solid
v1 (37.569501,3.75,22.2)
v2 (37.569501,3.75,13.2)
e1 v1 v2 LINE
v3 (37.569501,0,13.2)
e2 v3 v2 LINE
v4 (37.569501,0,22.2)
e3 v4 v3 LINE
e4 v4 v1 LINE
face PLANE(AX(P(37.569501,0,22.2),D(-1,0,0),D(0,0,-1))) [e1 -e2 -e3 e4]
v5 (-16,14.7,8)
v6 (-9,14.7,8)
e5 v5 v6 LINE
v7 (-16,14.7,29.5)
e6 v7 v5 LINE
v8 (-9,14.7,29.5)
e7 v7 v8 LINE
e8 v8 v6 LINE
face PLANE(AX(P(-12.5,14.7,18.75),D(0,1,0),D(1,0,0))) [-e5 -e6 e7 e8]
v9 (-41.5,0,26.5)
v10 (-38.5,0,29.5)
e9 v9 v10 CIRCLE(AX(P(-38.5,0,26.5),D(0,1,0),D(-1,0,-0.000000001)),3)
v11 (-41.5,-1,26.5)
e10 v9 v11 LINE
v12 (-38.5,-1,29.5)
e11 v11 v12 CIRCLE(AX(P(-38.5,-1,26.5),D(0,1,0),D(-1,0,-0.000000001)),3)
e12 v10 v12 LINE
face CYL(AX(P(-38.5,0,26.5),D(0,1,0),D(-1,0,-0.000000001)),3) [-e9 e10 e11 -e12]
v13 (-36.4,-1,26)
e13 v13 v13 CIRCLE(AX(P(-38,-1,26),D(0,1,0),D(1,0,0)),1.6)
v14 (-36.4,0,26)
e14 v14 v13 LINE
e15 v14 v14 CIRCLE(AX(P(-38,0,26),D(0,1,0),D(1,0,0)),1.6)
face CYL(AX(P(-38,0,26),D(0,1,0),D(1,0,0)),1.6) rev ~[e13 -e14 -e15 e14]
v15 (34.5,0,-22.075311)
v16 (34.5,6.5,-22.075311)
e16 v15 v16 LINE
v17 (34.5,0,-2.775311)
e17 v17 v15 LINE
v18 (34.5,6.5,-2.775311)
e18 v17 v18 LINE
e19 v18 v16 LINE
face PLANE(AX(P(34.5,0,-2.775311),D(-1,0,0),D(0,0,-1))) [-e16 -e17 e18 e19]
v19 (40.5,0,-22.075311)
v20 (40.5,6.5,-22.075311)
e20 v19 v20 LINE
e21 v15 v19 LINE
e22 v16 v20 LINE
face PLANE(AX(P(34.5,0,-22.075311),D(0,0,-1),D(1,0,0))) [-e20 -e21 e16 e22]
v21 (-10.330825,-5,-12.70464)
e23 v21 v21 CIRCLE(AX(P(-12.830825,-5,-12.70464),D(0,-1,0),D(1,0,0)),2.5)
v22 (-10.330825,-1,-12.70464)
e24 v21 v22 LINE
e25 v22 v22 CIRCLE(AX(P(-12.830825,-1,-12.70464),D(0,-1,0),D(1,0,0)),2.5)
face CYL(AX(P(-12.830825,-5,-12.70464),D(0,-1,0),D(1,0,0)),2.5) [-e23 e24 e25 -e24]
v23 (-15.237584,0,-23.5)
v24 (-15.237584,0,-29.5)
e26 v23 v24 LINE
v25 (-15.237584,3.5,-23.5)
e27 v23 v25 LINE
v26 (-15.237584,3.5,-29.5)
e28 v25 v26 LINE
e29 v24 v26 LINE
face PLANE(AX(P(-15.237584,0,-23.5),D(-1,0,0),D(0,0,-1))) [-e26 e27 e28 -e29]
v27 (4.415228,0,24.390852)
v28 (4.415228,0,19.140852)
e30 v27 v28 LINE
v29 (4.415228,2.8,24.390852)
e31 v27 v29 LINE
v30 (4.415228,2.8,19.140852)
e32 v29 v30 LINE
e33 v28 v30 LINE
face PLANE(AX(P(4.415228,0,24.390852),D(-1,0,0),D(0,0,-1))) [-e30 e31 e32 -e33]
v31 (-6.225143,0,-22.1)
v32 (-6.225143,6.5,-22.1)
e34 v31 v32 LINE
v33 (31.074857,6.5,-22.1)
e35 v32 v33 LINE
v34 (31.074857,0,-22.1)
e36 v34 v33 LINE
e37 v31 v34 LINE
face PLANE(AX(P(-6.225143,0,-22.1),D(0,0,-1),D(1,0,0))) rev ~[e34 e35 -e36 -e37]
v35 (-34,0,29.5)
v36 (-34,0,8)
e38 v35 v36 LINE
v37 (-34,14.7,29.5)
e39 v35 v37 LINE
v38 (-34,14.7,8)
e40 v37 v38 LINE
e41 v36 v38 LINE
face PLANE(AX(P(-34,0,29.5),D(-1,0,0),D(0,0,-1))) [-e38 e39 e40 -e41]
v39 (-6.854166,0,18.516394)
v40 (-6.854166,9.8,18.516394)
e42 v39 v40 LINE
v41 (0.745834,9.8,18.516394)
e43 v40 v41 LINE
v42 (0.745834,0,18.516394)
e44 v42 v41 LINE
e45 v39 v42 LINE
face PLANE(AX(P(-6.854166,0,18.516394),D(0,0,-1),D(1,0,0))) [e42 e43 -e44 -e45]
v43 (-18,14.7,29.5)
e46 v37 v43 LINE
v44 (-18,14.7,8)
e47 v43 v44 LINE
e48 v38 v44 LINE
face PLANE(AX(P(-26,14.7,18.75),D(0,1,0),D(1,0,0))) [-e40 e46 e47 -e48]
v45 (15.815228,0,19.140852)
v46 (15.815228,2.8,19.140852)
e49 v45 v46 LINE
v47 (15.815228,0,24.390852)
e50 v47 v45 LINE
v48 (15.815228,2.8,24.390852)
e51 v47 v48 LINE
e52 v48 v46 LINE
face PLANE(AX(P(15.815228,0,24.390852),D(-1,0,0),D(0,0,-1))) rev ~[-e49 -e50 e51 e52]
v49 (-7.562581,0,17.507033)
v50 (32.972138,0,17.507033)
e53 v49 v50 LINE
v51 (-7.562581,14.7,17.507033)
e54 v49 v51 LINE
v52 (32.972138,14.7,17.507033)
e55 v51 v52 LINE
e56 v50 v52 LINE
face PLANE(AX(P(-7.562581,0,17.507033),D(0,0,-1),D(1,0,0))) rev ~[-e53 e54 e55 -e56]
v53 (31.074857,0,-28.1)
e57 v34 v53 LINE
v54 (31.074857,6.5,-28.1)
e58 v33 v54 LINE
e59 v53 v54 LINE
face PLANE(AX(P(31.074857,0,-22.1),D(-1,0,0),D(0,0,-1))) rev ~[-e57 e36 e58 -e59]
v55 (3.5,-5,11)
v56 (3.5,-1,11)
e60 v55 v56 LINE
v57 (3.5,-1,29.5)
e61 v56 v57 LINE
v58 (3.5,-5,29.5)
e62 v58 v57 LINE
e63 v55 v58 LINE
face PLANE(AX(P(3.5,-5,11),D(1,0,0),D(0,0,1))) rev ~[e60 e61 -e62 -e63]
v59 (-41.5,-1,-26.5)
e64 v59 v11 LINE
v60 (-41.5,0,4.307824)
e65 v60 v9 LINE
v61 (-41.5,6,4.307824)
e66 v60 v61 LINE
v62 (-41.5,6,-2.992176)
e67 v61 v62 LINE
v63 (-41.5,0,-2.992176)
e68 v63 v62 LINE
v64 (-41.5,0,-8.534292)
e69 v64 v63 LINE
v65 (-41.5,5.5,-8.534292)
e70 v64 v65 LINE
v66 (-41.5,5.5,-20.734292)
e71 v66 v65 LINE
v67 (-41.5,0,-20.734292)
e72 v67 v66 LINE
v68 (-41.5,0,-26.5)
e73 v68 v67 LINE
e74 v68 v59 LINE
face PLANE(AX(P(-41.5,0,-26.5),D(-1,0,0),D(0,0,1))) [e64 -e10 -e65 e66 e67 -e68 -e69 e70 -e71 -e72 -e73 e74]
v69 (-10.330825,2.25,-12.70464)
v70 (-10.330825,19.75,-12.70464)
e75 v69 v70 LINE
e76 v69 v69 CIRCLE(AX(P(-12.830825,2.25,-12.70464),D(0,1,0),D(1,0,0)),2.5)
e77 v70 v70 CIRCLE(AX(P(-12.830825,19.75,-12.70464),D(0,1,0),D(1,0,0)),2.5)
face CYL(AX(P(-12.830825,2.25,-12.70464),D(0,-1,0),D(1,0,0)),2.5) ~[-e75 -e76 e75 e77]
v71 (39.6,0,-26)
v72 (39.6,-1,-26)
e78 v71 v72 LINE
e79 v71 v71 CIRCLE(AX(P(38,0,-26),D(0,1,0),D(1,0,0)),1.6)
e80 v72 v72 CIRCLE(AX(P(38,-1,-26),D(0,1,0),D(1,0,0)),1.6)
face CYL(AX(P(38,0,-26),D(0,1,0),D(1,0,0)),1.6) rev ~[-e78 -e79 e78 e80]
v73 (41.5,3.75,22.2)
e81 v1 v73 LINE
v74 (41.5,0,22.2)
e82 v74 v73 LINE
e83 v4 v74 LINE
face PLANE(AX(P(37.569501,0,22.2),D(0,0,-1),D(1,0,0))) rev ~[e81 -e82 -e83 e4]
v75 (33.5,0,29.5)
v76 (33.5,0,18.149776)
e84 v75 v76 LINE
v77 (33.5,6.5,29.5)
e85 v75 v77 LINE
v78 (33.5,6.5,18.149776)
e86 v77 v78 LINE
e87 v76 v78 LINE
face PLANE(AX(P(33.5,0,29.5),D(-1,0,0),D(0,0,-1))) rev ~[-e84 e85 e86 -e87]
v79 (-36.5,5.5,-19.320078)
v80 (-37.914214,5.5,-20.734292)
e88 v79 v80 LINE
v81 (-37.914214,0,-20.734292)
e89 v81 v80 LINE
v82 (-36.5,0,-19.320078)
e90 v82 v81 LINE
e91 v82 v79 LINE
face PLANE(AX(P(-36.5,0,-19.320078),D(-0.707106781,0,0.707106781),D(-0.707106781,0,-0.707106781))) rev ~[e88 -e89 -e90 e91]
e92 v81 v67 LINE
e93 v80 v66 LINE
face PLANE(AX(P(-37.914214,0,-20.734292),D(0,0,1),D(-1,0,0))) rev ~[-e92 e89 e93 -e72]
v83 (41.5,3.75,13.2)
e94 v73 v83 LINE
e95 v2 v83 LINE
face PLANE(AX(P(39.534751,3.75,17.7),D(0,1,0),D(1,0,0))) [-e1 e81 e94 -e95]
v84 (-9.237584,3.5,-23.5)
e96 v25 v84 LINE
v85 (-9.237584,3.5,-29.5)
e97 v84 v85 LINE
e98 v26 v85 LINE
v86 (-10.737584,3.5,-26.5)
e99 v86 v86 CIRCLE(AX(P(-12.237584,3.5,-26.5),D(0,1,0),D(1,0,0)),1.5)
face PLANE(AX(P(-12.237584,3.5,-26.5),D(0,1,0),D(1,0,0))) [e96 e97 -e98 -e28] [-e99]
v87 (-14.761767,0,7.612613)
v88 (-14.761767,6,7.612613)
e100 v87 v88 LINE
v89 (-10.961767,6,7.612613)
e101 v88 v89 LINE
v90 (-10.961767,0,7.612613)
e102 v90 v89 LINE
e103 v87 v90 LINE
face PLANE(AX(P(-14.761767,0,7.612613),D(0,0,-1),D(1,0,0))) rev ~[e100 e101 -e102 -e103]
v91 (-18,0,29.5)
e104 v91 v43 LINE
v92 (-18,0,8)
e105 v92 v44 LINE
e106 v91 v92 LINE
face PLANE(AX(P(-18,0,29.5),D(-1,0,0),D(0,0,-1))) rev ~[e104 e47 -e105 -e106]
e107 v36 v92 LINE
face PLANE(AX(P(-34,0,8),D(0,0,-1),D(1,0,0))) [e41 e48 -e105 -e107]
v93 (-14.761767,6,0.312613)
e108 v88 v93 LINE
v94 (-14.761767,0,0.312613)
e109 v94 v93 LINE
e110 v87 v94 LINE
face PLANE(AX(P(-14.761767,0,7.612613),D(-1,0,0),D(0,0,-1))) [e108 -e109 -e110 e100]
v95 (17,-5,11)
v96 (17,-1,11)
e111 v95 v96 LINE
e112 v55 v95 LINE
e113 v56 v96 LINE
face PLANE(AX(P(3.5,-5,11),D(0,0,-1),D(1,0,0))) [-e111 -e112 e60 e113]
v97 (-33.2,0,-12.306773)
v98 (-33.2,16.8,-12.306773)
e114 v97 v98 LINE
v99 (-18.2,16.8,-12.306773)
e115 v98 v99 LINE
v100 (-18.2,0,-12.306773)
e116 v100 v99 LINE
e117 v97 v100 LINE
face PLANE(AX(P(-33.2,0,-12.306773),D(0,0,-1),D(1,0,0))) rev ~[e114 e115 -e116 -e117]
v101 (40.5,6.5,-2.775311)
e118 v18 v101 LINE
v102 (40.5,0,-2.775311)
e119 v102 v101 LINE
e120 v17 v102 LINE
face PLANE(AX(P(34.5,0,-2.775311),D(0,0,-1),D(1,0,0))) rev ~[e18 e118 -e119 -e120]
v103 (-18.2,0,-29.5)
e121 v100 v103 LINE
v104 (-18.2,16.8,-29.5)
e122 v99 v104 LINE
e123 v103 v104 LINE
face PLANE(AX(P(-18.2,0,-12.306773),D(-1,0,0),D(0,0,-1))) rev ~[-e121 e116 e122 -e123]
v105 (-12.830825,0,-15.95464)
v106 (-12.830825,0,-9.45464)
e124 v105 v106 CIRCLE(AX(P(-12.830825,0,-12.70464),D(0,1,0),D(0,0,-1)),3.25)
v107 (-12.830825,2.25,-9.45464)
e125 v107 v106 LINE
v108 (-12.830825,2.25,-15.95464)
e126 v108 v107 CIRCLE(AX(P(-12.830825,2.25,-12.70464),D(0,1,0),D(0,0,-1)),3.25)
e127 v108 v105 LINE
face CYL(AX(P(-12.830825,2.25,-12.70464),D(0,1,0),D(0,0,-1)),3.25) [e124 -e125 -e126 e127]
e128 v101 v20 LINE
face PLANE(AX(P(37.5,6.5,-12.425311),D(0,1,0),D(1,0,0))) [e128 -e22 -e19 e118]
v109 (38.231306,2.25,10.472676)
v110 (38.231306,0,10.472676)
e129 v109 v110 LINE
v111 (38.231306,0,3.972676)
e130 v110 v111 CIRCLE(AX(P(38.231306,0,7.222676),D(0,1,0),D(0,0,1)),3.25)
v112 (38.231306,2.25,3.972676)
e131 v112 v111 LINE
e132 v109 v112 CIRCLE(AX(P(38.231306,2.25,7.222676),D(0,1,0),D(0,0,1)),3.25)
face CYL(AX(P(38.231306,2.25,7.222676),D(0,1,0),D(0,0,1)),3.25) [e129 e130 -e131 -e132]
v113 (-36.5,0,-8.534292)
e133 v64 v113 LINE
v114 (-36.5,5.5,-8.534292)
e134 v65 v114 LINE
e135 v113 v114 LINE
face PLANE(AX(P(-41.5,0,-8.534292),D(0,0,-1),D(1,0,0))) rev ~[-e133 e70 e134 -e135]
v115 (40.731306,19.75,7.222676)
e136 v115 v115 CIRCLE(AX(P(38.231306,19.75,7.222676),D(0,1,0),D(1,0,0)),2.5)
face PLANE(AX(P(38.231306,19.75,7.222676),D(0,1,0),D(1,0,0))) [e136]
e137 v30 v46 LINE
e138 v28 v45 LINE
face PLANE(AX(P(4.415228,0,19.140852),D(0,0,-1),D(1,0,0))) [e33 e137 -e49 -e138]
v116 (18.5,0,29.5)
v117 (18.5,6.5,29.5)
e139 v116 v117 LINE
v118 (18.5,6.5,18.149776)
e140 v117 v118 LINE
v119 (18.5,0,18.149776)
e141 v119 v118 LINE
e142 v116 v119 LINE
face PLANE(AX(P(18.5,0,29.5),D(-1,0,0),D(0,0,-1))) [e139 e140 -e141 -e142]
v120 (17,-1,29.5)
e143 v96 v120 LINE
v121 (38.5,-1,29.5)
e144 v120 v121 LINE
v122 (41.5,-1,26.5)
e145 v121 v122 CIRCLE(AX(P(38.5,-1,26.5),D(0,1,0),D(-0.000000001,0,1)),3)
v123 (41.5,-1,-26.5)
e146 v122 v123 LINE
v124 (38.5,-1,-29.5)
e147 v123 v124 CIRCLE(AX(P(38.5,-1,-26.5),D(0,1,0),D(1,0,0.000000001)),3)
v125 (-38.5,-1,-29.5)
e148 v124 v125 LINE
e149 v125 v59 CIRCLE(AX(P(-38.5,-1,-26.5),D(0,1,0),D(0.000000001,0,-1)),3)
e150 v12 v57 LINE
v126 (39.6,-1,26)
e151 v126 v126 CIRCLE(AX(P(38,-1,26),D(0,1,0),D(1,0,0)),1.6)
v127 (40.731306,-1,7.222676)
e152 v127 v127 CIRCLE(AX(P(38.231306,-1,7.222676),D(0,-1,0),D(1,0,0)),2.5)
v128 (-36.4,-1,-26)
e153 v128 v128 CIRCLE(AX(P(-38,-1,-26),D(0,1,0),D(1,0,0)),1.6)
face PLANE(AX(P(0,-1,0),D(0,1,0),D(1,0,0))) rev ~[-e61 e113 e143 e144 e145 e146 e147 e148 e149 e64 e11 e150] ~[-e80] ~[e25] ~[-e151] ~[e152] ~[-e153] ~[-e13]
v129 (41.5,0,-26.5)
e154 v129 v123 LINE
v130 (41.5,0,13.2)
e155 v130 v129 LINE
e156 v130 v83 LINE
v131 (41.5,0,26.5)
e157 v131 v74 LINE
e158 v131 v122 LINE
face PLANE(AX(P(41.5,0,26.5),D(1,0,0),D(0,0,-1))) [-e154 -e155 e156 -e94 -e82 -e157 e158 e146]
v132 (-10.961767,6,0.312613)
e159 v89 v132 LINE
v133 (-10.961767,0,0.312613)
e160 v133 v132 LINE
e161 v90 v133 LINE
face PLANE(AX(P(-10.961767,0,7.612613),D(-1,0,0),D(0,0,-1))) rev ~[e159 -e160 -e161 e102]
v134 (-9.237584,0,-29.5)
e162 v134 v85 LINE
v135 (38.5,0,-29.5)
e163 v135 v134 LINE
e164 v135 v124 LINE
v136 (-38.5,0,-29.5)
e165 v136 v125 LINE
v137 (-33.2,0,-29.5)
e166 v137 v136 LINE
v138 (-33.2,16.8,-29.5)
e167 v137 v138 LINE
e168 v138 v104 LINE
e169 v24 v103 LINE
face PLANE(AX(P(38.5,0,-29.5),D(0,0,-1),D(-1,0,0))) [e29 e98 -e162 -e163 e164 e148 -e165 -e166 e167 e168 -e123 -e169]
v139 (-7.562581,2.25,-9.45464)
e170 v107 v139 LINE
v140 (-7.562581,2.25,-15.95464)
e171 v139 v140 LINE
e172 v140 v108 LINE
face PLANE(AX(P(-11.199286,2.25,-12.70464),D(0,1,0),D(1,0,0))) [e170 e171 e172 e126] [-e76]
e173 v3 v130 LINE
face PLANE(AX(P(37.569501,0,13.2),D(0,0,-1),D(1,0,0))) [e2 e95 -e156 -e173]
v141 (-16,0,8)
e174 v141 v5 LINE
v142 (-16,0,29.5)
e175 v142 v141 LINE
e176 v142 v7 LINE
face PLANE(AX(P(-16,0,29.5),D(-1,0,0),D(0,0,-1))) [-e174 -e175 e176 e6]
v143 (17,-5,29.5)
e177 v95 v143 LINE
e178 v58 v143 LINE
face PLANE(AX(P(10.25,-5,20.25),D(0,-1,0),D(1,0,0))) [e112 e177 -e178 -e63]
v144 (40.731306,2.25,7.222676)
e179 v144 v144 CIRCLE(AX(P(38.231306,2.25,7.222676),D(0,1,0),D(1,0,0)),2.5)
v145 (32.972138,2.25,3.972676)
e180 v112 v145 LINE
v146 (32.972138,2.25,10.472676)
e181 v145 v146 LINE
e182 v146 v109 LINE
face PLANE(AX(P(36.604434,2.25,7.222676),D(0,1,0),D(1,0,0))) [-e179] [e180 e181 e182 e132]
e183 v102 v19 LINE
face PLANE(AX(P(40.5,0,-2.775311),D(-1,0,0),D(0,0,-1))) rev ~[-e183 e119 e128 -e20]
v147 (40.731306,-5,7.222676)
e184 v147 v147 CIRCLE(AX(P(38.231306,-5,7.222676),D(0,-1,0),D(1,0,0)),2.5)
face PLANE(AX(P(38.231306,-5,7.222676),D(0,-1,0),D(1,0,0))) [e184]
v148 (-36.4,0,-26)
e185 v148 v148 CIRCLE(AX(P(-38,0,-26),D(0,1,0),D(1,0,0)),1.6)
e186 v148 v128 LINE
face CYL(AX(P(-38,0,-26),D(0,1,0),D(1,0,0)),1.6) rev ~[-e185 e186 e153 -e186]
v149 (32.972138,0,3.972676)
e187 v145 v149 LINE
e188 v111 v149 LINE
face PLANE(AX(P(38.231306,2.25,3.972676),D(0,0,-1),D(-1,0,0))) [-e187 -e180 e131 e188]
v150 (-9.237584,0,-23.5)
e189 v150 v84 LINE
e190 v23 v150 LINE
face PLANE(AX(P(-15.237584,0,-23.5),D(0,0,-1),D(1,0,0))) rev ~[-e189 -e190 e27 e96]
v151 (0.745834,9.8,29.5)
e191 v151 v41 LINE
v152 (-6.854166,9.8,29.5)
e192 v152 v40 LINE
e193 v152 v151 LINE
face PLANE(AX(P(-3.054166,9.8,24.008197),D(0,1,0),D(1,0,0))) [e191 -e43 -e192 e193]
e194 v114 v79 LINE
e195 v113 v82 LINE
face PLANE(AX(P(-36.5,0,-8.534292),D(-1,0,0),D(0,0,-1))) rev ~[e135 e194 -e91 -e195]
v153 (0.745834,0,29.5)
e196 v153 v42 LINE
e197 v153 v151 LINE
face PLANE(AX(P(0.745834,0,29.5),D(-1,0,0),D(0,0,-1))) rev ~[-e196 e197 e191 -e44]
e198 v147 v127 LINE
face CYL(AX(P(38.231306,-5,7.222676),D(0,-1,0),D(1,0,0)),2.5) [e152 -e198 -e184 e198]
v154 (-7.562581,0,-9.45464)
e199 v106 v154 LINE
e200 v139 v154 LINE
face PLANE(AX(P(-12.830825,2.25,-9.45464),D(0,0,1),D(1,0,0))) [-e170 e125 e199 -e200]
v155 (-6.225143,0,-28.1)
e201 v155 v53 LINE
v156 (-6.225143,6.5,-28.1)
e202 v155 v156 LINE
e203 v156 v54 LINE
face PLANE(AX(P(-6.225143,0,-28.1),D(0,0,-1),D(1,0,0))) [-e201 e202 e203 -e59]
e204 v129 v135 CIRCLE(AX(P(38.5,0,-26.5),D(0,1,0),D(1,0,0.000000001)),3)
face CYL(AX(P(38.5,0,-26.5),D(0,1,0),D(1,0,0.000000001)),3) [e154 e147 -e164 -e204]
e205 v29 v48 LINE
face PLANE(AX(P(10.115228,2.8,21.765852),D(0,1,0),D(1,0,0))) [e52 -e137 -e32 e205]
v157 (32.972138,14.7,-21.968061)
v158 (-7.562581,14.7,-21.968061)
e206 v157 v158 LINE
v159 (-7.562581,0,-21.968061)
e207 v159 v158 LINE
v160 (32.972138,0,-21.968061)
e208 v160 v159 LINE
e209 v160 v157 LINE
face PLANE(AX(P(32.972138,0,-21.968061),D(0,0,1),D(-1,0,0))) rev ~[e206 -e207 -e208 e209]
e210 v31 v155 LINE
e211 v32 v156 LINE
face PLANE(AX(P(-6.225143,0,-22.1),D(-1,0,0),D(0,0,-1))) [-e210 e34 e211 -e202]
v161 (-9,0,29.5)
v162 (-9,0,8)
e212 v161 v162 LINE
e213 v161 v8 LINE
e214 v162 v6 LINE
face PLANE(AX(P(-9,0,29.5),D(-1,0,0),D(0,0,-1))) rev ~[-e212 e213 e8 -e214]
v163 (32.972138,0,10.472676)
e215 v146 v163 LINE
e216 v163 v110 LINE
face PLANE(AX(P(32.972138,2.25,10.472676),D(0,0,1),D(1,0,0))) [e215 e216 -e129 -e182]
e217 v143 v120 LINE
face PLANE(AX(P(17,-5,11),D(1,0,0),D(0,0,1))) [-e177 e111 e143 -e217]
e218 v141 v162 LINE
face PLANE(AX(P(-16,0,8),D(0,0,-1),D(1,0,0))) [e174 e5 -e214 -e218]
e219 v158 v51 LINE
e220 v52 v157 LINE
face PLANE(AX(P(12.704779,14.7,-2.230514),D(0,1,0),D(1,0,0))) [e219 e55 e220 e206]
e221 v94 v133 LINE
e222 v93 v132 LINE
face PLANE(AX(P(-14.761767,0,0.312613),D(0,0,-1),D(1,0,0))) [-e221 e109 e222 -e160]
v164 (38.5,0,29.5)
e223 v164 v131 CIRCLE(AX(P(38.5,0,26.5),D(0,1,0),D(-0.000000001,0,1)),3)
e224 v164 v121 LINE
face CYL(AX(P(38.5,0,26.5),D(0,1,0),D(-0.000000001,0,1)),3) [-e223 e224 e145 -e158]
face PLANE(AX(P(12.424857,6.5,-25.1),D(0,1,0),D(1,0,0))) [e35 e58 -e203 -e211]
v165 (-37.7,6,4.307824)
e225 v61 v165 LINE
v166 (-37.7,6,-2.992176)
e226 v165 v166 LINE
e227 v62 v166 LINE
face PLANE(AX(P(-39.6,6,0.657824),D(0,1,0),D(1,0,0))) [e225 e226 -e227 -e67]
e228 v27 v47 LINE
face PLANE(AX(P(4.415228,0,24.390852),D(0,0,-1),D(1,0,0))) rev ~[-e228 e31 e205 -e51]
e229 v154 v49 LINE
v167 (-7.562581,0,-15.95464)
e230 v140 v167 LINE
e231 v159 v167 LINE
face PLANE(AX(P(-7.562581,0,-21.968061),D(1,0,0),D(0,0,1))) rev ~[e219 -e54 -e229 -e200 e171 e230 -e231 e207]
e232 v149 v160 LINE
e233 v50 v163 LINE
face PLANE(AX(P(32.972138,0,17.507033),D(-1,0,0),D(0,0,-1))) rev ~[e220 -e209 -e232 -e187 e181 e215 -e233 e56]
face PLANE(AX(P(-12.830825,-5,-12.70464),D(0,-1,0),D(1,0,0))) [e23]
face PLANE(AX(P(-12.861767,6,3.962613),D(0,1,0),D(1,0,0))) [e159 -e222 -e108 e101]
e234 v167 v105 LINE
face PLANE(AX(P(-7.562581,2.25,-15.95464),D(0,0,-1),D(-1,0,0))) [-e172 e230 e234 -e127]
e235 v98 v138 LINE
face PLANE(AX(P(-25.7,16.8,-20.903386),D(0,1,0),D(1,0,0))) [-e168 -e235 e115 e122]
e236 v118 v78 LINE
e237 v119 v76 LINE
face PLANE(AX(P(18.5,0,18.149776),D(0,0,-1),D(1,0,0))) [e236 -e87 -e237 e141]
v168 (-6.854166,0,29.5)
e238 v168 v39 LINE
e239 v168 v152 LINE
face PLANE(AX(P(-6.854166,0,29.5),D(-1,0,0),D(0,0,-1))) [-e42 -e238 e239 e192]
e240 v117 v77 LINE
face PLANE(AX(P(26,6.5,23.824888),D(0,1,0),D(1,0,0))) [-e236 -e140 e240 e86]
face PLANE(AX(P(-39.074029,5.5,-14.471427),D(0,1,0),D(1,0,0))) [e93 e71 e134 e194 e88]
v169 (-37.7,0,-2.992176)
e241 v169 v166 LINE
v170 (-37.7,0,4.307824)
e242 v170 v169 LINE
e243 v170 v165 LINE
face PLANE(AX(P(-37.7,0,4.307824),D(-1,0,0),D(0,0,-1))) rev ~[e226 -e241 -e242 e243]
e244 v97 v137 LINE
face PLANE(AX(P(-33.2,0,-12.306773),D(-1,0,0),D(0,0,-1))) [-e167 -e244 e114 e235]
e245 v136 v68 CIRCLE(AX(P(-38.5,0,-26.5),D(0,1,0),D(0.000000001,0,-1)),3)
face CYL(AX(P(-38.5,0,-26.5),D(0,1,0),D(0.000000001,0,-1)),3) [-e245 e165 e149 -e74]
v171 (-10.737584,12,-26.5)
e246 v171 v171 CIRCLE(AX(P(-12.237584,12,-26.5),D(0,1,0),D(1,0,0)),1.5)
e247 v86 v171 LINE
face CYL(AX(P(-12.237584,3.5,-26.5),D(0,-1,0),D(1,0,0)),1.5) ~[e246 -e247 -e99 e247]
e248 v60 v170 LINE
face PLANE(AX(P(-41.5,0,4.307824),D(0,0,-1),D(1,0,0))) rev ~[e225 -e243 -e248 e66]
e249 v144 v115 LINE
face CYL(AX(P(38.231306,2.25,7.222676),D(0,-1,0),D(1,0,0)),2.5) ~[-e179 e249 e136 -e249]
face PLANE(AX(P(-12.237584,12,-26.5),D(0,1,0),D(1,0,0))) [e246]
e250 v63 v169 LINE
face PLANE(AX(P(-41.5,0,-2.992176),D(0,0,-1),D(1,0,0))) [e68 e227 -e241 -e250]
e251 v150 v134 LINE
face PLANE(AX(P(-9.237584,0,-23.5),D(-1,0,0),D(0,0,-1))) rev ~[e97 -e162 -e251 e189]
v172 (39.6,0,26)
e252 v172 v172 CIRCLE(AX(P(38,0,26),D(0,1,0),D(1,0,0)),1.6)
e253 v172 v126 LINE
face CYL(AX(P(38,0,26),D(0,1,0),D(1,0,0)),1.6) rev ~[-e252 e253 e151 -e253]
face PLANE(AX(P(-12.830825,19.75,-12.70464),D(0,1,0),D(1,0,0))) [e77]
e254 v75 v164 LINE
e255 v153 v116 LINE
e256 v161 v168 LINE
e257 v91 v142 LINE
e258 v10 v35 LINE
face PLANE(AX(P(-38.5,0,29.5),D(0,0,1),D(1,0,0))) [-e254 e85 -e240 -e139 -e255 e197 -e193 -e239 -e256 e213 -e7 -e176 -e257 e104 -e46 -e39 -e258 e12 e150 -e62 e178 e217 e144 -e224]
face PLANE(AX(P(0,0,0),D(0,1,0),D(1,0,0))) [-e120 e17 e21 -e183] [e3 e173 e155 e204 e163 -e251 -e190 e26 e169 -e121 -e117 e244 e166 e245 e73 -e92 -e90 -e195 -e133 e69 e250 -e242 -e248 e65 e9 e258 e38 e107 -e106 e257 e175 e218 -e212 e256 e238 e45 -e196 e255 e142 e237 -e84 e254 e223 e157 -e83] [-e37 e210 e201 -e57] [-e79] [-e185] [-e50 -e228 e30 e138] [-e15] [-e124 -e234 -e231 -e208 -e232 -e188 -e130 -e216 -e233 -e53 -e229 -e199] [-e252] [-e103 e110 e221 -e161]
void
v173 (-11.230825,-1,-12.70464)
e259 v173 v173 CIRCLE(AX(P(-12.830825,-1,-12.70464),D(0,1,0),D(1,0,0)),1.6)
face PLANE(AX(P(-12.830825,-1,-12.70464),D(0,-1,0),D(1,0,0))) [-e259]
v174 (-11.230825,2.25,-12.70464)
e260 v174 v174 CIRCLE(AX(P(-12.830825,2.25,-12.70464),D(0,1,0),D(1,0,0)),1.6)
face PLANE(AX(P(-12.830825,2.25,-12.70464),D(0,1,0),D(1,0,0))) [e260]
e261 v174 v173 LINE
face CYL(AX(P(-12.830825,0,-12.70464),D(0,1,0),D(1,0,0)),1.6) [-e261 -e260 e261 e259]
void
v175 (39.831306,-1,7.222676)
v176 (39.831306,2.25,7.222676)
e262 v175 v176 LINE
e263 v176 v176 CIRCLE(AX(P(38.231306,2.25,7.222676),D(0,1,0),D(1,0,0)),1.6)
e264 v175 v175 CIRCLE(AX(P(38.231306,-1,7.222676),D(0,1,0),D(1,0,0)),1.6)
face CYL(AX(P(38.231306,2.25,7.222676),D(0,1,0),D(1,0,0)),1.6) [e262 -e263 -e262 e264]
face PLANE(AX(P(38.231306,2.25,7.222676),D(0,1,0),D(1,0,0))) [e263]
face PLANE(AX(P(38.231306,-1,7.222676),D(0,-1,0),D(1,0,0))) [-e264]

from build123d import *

# Parameters (mm, degrees)
PCB_EXTRUDE_DEPTH            = 1
SKETCH3_R                    = 1.6
PCB_HOLES_AND_TABS_DEPTH     = 51.926417506
UART_EXTRUDE_DEPTH           = 5.5
SKETCH4_3_W                  = 3.8
SKETCH4_3_H                  = 7.3
BATTERY_AND_FAN_HEADER_DEPTH = 6
HEATSINK_FAN_DEPTH           = 14.7
SKETCH4_6_W                  = 6
SKETCH4_6_H                  = 6
POWERBUTTON_DEPTH            = 3.5
SKETCH5_R                    = 1.5
POWERBUTTONSWITCH_DEPTH      = 8.5
SKETCH4_8_W                  = 7.6
SKETCH4_8_H                  = 10.983605977
DCPOWERJACK_DEPTH            = 9.8
HEATSINKMOUNTTABS_START      = 2.25
SKETCH4_11_R                 = 1.6
HEATSINKMOUNTTABS_DEPTH      = 2.25
SKETCH6_R                    = 2.5
HEATSINKSPRINGS_DEPTH        = 17.5
SKETCH4_13_W                 = 11.4
SKETCH4_13_H                 = 5.25
MICROSD_DEPTH                = 2.8
UNDERSIDE_START              = 4
SKETCH7_R                    = 2.5
SKETCH7_W                    = 13.5
SKETCH7_H                    = 18.5
UNDERSIDE_DEPTH              = 4
GROSS_COMPONENTS_15_W        = 16
GROSS_COMPONENTS_15_H        = 21.5
ETHERNET_DEPTH               = 14.7
GROSS_COMPONENTS_16_W        = 15
GROSS_COMPONENTS_16_H        = 17.193227116
USBX2_DEPTH                  = 16.8
GROSS_COMPONENTS_17_W        = 7
GROSS_COMPONENTS_17_H        = 21.5
USBVERTICAL_DEPTH            = 14.7
GROSS_COMPONENTS_18_W        = 15
GROSS_COMPONENTS_18_H        = 11.350223911
HDMI_DEPTH                   = 6.5
GROSS_COMPONENTS_19_W        = 3.930498855
GROSS_COMPONENTS_19_H        = 9
DIP_DEPTH                    = 3.75
GROSS_COMPONENTS_21_W        = 37.3
GROSS_COMPONENTS_21_H        = 6
GROSS_COMPONENTS_21_W_2      = 6
GROSS_COMPONENTS_21_H_2      = 19.3
PINHEADERS_DEPTH             = 6.5


with BuildPart() as part:
    # Sketch1 → PCB Extrude (new body)
    with BuildSketch(Plane(origin=(0, 0, 0), x_dir=(1, 0, 0), z_dir=(0, 1, 0))):
        with BuildLine():
            Line((-38.5, -29.5), (38.5, -29.5))
            ThreePointArc((38.5, -29.5), (40.621320344, -28.621320344), (41.5, -26.5))
            Line((41.5, -26.5), (41.5, 26.5))
            ThreePointArc((41.5, 26.5), (40.621320344, 28.621320344), (38.5, 29.5))
            Line((38.5, 29.5), (-38.5, 29.5))
            ThreePointArc((-38.5, 29.5), (-40.621320344, 28.621320344), (-41.5, 26.5))
            Line((-41.5, 26.5), (-41.5, -26.5))
            ThreePointArc((-41.5, -26.5), (-40.621320344, -28.621320344), (-38.5, -29.5))
        make_face()
    extrude(amount=-PCB_EXTRUDE_DEPTH)

    # Sketch3 → PCB Holes and Tabs (cut, through all)
    with BuildSketch(Plane(origin=(0, 0, 0), x_dir=(1, 0, 0), z_dir=(0, 1, 0))):
        with Locations((-12.830824848, 12.70463972)):
            Circle(SKETCH3_R)
        with Locations((38.231306466, -7.222675777)):
            Circle(SKETCH3_R)
        with Locations((-38, 26)):
            Circle(SKETCH3_R)
        with Locations((38, 26)):
            Circle(SKETCH3_R)
        with Locations((38, -26)):
            Circle(SKETCH3_R)
        with Locations((-38, -26)):
            Circle(SKETCH3_R)
    extrude(amount=-PCB_HOLES_AND_TABS_DEPTH, mode=Mode.SUBTRACT)

    # Gross Components → UART Extrude (add)
    with BuildSketch(Plane(origin=(-30.681810048, 0, -29.297110237), x_dir=(1, 0, 0), z_dir=(0, 1, 0))):
        Polygon((-7.232403514, -8.562818523), (-10.818189952, -8.562818523), (-10.818189952, -20.762818523), (-5.818189952, -20.762818523), (-5.818189952, -9.977032085), align=None)
    extrude(amount=UART_EXTRUDE_DEPTH)

    # Sketch4_3 → Battery and Fan Header (add)
    with BuildSketch(Plane(origin=(-30.681810048, 0, -29.297110237), x_dir=(1, 0, 0), z_dir=(0, 1, 0))):
        with Locations((-8.918189952, -29.954934674)):
            Rectangle(SKETCH4_3_W, SKETCH4_3_H)
        with Locations((17.820043283, -33.259722768)):
            Rectangle(SKETCH4_3_W, SKETCH4_3_H)
    extrude(amount=BATTERY_AND_FAN_HEADER_DEPTH)

    # Sketch4_4 → HeatSink_Fan (add)
    with BuildSketch(Plane(origin=(-30.681810048, 0, -29.297110237), x_dir=(1, 0, 0), z_dir=(0, 1, 0))):
        Polygon((63.653948261, -46.804143445), (63.653948261, -39.769786014), (63.653948261, -33.269786014), (63.653948261, -7.329049339), (23.119229334, -7.329049339), (23.119229334, -13.342470517), (23.119229334, -19.842470517), (23.119229334, -46.804143445), align=None)
    extrude(amount=HEATSINK_FAN_DEPTH)

    # Sketch4_6 → PowerButton (add)
    with BuildSketch(Plane(origin=(-30.681810048, 0, -29.297110237), x_dir=(1, 0, 0), z_dir=(0, 1, 0))):
        with Locations((18.444226135, -2.797110237)):
            Rectangle(SKETCH4_6_W, SKETCH4_6_H)
    extrude(amount=POWERBUTTON_DEPTH)

    # Sketch5 → PowerButtonSwitch (add)
    with BuildSketch(Plane(origin=(0, 3.5, 0), x_dir=(1, 0, 0), z_dir=(0, 1, 0))):
        with Locations((-12.237583913, 26.5)):
            Circle(SKETCH5_R)
    extrude(amount=POWERBUTTONSWITCH_DEPTH)

    # Sketch4_8 → DCPowerJack (add)
    with BuildSketch(Plane(origin=(-30.681810048, 0, -29.297110237), x_dir=(1, 0, 0), z_dir=(0, 1, 0))):
        with Locations((27.627643628, -53.305307249)):
            Rectangle(SKETCH4_8_W, SKETCH4_8_H)
    extrude(amount=DCPOWERJACK_DEPTH)

    # Sketch4_11 → HeatSinkMountTabs (add)
    # profile 1 of 2: a face of its own
    with BuildSketch(Plane(origin=(-30.681810048, 0, -29.297110237), x_dir=(1, 0, 0), z_dir=(0, 1, 0)).offset(HEATSINKMOUNTTABS_START)):
        with BuildLine():
            Line((63.653948261, -39.769786014), (68.913116514, -39.769786014))
            ThreePointArc((68.913116514, -39.769786014), (72.163116514, -36.519786014), (68.913116514, -33.269786014))
            Line((68.913116514, -33.269786014), (63.653948261, -33.269786014))
            Line((63.653948261, -33.269786014), (63.653948261, -39.769786014))
        make_face()
        with Locations((68.913116514, -36.519786014)):
            Circle(SKETCH4_11_R, mode=Mode.SUBTRACT)
    # profile 2 of 2: a face of its own
    with BuildSketch(Plane(origin=(-30.681810048, 0, -29.297110237), x_dir=(1, 0, 0), z_dir=(0, 1, 0)).offset(HEATSINKMOUNTTABS_START)):
        with BuildLine():
            Line((17.8509852, -19.842470517), (23.119229334, -19.842470517))
            Line((23.119229334, -19.842470517), (23.119229334, -13.342470517))
            Line((23.119229334, -13.342470517), (17.8509852, -13.342470517))
            ThreePointArc((17.8509852, -13.342470517), (14.6009852, -16.592470517), (17.8509852, -19.842470517))
        make_face()
        with Locations((17.8509852, -16.592470517)):
            Circle(SKETCH4_11_R, mode=Mode.SUBTRACT)
    extrude(amount=-HEATSINKMOUNTTABS_DEPTH)

    # Sketch6 → HeatSinkSprings (add)
    with BuildSketch(Plane(origin=(0, 2.25, 0), x_dir=(1, 0, 0), z_dir=(0, 1, 0))):
        with Locations((38.231306466, -7.222675777)):
            Circle(SKETCH6_R)
        with Locations((-12.830824848, 12.70463972)):
            Circle(SKETCH6_R)
    extrude(amount=HEATSINKSPRINGS_DEPTH)

    # Sketch4_13 → microSD (add)
    with BuildSketch(Plane(origin=(-30.681810048, 0, -29.297110237), x_dir=(1, 0, 0), z_dir=(0, 1, 0))):
        with Locations((40.797038503, -51.062962156)):
            Rectangle(SKETCH4_13_W, SKETCH4_13_H)
    extrude(amount=MICROSD_DEPTH)

    # Sketch7 → UnderSide (add)
    with BuildSketch(Plane.XZ.offset(1).offset(UNDERSIDE_START)):
        with Locations((-12.830824848, -12.70463972)):
            Circle(SKETCH7_R)
        with Locations((38.231306466, 7.222675777)):
            Circle(SKETCH7_R)
        with Locations((10.25, 20.25)):
            Rectangle(SKETCH7_W, SKETCH7_H)
    extrude(amount=-UNDERSIDE_DEPTH)

    # Gross Components_15 → Ethernet (add)
    with BuildSketch(Plane(origin=(-30.681810048, 0, -29.297110237), x_dir=(1, 0, 0), z_dir=(0, 1, 0))):
        with Locations((4.681810048, -48.047110237)):
            Rectangle(GROSS_COMPONENTS_15_W, GROSS_COMPONENTS_15_H)
    extrude(amount=ETHERNET_DEPTH)

    # Gross Components_16 → USBx2 (add)
    with BuildSketch(Plane(origin=(-30.681810048, 0, -29.297110237), x_dir=(1, 0, 0), z_dir=(0, 1, 0))):
        with Locations((4.981810048, -8.393723795)):
            Rectangle(GROSS_COMPONENTS_16_W, GROSS_COMPONENTS_16_H)
    extrude(amount=USBX2_DEPTH)

    # Gross Components_17 → USBvertical (add)
    with BuildSketch(Plane(origin=(-30.681810048, 0, -29.297110237), x_dir=(1, 0, 0), z_dir=(0, 1, 0))):
        with Locations((18.181810048, -48.047110237)):
            Rectangle(GROSS_COMPONENTS_17_W, GROSS_COMPONENTS_17_H)
    extrude(amount=USBVERTICAL_DEPTH)

    # Gross Components_18 → HDMI (add)
    with BuildSketch(Plane(origin=(-30.681810048, 0, -29.297110237), x_dir=(1, 0, 0), z_dir=(0, 1, 0))):
        with Locations((56.681810048, -53.121998282)):
            Rectangle(GROSS_COMPONENTS_18_W, GROSS_COMPONENTS_18_H)
    extrude(amount=HDMI_DEPTH)

    # Gross Components_19 → DIP (add)
    with BuildSketch(Plane(origin=(-30.681810048, 0, -29.297110237), x_dir=(1, 0, 0), z_dir=(0, 1, 0))):
        with Locations((70.216560621, -46.997110237)):
            Rectangle(GROSS_COMPONENTS_19_W, GROSS_COMPONENTS_19_H)
    extrude(amount=DIP_DEPTH)

    # Gross Components_21 → PinHeaders (add)
    with BuildSketch(Plane(origin=(-30.681810048, 0, -29.297110237), x_dir=(1, 0, 0), z_dir=(0, 1, 0))):
        with Locations((43.106667362, -4.197110237)):
            Rectangle(GROSS_COMPONENTS_21_W, GROSS_COMPONENTS_21_H)
        with Locations((68.181810048, -16.871799168)):
            Rectangle(GROSS_COMPONENTS_21_W_2, GROSS_COMPONENTS_21_H_2)
    extrude(amount=PINHEADERS_DEPTH)


solid = part.part
